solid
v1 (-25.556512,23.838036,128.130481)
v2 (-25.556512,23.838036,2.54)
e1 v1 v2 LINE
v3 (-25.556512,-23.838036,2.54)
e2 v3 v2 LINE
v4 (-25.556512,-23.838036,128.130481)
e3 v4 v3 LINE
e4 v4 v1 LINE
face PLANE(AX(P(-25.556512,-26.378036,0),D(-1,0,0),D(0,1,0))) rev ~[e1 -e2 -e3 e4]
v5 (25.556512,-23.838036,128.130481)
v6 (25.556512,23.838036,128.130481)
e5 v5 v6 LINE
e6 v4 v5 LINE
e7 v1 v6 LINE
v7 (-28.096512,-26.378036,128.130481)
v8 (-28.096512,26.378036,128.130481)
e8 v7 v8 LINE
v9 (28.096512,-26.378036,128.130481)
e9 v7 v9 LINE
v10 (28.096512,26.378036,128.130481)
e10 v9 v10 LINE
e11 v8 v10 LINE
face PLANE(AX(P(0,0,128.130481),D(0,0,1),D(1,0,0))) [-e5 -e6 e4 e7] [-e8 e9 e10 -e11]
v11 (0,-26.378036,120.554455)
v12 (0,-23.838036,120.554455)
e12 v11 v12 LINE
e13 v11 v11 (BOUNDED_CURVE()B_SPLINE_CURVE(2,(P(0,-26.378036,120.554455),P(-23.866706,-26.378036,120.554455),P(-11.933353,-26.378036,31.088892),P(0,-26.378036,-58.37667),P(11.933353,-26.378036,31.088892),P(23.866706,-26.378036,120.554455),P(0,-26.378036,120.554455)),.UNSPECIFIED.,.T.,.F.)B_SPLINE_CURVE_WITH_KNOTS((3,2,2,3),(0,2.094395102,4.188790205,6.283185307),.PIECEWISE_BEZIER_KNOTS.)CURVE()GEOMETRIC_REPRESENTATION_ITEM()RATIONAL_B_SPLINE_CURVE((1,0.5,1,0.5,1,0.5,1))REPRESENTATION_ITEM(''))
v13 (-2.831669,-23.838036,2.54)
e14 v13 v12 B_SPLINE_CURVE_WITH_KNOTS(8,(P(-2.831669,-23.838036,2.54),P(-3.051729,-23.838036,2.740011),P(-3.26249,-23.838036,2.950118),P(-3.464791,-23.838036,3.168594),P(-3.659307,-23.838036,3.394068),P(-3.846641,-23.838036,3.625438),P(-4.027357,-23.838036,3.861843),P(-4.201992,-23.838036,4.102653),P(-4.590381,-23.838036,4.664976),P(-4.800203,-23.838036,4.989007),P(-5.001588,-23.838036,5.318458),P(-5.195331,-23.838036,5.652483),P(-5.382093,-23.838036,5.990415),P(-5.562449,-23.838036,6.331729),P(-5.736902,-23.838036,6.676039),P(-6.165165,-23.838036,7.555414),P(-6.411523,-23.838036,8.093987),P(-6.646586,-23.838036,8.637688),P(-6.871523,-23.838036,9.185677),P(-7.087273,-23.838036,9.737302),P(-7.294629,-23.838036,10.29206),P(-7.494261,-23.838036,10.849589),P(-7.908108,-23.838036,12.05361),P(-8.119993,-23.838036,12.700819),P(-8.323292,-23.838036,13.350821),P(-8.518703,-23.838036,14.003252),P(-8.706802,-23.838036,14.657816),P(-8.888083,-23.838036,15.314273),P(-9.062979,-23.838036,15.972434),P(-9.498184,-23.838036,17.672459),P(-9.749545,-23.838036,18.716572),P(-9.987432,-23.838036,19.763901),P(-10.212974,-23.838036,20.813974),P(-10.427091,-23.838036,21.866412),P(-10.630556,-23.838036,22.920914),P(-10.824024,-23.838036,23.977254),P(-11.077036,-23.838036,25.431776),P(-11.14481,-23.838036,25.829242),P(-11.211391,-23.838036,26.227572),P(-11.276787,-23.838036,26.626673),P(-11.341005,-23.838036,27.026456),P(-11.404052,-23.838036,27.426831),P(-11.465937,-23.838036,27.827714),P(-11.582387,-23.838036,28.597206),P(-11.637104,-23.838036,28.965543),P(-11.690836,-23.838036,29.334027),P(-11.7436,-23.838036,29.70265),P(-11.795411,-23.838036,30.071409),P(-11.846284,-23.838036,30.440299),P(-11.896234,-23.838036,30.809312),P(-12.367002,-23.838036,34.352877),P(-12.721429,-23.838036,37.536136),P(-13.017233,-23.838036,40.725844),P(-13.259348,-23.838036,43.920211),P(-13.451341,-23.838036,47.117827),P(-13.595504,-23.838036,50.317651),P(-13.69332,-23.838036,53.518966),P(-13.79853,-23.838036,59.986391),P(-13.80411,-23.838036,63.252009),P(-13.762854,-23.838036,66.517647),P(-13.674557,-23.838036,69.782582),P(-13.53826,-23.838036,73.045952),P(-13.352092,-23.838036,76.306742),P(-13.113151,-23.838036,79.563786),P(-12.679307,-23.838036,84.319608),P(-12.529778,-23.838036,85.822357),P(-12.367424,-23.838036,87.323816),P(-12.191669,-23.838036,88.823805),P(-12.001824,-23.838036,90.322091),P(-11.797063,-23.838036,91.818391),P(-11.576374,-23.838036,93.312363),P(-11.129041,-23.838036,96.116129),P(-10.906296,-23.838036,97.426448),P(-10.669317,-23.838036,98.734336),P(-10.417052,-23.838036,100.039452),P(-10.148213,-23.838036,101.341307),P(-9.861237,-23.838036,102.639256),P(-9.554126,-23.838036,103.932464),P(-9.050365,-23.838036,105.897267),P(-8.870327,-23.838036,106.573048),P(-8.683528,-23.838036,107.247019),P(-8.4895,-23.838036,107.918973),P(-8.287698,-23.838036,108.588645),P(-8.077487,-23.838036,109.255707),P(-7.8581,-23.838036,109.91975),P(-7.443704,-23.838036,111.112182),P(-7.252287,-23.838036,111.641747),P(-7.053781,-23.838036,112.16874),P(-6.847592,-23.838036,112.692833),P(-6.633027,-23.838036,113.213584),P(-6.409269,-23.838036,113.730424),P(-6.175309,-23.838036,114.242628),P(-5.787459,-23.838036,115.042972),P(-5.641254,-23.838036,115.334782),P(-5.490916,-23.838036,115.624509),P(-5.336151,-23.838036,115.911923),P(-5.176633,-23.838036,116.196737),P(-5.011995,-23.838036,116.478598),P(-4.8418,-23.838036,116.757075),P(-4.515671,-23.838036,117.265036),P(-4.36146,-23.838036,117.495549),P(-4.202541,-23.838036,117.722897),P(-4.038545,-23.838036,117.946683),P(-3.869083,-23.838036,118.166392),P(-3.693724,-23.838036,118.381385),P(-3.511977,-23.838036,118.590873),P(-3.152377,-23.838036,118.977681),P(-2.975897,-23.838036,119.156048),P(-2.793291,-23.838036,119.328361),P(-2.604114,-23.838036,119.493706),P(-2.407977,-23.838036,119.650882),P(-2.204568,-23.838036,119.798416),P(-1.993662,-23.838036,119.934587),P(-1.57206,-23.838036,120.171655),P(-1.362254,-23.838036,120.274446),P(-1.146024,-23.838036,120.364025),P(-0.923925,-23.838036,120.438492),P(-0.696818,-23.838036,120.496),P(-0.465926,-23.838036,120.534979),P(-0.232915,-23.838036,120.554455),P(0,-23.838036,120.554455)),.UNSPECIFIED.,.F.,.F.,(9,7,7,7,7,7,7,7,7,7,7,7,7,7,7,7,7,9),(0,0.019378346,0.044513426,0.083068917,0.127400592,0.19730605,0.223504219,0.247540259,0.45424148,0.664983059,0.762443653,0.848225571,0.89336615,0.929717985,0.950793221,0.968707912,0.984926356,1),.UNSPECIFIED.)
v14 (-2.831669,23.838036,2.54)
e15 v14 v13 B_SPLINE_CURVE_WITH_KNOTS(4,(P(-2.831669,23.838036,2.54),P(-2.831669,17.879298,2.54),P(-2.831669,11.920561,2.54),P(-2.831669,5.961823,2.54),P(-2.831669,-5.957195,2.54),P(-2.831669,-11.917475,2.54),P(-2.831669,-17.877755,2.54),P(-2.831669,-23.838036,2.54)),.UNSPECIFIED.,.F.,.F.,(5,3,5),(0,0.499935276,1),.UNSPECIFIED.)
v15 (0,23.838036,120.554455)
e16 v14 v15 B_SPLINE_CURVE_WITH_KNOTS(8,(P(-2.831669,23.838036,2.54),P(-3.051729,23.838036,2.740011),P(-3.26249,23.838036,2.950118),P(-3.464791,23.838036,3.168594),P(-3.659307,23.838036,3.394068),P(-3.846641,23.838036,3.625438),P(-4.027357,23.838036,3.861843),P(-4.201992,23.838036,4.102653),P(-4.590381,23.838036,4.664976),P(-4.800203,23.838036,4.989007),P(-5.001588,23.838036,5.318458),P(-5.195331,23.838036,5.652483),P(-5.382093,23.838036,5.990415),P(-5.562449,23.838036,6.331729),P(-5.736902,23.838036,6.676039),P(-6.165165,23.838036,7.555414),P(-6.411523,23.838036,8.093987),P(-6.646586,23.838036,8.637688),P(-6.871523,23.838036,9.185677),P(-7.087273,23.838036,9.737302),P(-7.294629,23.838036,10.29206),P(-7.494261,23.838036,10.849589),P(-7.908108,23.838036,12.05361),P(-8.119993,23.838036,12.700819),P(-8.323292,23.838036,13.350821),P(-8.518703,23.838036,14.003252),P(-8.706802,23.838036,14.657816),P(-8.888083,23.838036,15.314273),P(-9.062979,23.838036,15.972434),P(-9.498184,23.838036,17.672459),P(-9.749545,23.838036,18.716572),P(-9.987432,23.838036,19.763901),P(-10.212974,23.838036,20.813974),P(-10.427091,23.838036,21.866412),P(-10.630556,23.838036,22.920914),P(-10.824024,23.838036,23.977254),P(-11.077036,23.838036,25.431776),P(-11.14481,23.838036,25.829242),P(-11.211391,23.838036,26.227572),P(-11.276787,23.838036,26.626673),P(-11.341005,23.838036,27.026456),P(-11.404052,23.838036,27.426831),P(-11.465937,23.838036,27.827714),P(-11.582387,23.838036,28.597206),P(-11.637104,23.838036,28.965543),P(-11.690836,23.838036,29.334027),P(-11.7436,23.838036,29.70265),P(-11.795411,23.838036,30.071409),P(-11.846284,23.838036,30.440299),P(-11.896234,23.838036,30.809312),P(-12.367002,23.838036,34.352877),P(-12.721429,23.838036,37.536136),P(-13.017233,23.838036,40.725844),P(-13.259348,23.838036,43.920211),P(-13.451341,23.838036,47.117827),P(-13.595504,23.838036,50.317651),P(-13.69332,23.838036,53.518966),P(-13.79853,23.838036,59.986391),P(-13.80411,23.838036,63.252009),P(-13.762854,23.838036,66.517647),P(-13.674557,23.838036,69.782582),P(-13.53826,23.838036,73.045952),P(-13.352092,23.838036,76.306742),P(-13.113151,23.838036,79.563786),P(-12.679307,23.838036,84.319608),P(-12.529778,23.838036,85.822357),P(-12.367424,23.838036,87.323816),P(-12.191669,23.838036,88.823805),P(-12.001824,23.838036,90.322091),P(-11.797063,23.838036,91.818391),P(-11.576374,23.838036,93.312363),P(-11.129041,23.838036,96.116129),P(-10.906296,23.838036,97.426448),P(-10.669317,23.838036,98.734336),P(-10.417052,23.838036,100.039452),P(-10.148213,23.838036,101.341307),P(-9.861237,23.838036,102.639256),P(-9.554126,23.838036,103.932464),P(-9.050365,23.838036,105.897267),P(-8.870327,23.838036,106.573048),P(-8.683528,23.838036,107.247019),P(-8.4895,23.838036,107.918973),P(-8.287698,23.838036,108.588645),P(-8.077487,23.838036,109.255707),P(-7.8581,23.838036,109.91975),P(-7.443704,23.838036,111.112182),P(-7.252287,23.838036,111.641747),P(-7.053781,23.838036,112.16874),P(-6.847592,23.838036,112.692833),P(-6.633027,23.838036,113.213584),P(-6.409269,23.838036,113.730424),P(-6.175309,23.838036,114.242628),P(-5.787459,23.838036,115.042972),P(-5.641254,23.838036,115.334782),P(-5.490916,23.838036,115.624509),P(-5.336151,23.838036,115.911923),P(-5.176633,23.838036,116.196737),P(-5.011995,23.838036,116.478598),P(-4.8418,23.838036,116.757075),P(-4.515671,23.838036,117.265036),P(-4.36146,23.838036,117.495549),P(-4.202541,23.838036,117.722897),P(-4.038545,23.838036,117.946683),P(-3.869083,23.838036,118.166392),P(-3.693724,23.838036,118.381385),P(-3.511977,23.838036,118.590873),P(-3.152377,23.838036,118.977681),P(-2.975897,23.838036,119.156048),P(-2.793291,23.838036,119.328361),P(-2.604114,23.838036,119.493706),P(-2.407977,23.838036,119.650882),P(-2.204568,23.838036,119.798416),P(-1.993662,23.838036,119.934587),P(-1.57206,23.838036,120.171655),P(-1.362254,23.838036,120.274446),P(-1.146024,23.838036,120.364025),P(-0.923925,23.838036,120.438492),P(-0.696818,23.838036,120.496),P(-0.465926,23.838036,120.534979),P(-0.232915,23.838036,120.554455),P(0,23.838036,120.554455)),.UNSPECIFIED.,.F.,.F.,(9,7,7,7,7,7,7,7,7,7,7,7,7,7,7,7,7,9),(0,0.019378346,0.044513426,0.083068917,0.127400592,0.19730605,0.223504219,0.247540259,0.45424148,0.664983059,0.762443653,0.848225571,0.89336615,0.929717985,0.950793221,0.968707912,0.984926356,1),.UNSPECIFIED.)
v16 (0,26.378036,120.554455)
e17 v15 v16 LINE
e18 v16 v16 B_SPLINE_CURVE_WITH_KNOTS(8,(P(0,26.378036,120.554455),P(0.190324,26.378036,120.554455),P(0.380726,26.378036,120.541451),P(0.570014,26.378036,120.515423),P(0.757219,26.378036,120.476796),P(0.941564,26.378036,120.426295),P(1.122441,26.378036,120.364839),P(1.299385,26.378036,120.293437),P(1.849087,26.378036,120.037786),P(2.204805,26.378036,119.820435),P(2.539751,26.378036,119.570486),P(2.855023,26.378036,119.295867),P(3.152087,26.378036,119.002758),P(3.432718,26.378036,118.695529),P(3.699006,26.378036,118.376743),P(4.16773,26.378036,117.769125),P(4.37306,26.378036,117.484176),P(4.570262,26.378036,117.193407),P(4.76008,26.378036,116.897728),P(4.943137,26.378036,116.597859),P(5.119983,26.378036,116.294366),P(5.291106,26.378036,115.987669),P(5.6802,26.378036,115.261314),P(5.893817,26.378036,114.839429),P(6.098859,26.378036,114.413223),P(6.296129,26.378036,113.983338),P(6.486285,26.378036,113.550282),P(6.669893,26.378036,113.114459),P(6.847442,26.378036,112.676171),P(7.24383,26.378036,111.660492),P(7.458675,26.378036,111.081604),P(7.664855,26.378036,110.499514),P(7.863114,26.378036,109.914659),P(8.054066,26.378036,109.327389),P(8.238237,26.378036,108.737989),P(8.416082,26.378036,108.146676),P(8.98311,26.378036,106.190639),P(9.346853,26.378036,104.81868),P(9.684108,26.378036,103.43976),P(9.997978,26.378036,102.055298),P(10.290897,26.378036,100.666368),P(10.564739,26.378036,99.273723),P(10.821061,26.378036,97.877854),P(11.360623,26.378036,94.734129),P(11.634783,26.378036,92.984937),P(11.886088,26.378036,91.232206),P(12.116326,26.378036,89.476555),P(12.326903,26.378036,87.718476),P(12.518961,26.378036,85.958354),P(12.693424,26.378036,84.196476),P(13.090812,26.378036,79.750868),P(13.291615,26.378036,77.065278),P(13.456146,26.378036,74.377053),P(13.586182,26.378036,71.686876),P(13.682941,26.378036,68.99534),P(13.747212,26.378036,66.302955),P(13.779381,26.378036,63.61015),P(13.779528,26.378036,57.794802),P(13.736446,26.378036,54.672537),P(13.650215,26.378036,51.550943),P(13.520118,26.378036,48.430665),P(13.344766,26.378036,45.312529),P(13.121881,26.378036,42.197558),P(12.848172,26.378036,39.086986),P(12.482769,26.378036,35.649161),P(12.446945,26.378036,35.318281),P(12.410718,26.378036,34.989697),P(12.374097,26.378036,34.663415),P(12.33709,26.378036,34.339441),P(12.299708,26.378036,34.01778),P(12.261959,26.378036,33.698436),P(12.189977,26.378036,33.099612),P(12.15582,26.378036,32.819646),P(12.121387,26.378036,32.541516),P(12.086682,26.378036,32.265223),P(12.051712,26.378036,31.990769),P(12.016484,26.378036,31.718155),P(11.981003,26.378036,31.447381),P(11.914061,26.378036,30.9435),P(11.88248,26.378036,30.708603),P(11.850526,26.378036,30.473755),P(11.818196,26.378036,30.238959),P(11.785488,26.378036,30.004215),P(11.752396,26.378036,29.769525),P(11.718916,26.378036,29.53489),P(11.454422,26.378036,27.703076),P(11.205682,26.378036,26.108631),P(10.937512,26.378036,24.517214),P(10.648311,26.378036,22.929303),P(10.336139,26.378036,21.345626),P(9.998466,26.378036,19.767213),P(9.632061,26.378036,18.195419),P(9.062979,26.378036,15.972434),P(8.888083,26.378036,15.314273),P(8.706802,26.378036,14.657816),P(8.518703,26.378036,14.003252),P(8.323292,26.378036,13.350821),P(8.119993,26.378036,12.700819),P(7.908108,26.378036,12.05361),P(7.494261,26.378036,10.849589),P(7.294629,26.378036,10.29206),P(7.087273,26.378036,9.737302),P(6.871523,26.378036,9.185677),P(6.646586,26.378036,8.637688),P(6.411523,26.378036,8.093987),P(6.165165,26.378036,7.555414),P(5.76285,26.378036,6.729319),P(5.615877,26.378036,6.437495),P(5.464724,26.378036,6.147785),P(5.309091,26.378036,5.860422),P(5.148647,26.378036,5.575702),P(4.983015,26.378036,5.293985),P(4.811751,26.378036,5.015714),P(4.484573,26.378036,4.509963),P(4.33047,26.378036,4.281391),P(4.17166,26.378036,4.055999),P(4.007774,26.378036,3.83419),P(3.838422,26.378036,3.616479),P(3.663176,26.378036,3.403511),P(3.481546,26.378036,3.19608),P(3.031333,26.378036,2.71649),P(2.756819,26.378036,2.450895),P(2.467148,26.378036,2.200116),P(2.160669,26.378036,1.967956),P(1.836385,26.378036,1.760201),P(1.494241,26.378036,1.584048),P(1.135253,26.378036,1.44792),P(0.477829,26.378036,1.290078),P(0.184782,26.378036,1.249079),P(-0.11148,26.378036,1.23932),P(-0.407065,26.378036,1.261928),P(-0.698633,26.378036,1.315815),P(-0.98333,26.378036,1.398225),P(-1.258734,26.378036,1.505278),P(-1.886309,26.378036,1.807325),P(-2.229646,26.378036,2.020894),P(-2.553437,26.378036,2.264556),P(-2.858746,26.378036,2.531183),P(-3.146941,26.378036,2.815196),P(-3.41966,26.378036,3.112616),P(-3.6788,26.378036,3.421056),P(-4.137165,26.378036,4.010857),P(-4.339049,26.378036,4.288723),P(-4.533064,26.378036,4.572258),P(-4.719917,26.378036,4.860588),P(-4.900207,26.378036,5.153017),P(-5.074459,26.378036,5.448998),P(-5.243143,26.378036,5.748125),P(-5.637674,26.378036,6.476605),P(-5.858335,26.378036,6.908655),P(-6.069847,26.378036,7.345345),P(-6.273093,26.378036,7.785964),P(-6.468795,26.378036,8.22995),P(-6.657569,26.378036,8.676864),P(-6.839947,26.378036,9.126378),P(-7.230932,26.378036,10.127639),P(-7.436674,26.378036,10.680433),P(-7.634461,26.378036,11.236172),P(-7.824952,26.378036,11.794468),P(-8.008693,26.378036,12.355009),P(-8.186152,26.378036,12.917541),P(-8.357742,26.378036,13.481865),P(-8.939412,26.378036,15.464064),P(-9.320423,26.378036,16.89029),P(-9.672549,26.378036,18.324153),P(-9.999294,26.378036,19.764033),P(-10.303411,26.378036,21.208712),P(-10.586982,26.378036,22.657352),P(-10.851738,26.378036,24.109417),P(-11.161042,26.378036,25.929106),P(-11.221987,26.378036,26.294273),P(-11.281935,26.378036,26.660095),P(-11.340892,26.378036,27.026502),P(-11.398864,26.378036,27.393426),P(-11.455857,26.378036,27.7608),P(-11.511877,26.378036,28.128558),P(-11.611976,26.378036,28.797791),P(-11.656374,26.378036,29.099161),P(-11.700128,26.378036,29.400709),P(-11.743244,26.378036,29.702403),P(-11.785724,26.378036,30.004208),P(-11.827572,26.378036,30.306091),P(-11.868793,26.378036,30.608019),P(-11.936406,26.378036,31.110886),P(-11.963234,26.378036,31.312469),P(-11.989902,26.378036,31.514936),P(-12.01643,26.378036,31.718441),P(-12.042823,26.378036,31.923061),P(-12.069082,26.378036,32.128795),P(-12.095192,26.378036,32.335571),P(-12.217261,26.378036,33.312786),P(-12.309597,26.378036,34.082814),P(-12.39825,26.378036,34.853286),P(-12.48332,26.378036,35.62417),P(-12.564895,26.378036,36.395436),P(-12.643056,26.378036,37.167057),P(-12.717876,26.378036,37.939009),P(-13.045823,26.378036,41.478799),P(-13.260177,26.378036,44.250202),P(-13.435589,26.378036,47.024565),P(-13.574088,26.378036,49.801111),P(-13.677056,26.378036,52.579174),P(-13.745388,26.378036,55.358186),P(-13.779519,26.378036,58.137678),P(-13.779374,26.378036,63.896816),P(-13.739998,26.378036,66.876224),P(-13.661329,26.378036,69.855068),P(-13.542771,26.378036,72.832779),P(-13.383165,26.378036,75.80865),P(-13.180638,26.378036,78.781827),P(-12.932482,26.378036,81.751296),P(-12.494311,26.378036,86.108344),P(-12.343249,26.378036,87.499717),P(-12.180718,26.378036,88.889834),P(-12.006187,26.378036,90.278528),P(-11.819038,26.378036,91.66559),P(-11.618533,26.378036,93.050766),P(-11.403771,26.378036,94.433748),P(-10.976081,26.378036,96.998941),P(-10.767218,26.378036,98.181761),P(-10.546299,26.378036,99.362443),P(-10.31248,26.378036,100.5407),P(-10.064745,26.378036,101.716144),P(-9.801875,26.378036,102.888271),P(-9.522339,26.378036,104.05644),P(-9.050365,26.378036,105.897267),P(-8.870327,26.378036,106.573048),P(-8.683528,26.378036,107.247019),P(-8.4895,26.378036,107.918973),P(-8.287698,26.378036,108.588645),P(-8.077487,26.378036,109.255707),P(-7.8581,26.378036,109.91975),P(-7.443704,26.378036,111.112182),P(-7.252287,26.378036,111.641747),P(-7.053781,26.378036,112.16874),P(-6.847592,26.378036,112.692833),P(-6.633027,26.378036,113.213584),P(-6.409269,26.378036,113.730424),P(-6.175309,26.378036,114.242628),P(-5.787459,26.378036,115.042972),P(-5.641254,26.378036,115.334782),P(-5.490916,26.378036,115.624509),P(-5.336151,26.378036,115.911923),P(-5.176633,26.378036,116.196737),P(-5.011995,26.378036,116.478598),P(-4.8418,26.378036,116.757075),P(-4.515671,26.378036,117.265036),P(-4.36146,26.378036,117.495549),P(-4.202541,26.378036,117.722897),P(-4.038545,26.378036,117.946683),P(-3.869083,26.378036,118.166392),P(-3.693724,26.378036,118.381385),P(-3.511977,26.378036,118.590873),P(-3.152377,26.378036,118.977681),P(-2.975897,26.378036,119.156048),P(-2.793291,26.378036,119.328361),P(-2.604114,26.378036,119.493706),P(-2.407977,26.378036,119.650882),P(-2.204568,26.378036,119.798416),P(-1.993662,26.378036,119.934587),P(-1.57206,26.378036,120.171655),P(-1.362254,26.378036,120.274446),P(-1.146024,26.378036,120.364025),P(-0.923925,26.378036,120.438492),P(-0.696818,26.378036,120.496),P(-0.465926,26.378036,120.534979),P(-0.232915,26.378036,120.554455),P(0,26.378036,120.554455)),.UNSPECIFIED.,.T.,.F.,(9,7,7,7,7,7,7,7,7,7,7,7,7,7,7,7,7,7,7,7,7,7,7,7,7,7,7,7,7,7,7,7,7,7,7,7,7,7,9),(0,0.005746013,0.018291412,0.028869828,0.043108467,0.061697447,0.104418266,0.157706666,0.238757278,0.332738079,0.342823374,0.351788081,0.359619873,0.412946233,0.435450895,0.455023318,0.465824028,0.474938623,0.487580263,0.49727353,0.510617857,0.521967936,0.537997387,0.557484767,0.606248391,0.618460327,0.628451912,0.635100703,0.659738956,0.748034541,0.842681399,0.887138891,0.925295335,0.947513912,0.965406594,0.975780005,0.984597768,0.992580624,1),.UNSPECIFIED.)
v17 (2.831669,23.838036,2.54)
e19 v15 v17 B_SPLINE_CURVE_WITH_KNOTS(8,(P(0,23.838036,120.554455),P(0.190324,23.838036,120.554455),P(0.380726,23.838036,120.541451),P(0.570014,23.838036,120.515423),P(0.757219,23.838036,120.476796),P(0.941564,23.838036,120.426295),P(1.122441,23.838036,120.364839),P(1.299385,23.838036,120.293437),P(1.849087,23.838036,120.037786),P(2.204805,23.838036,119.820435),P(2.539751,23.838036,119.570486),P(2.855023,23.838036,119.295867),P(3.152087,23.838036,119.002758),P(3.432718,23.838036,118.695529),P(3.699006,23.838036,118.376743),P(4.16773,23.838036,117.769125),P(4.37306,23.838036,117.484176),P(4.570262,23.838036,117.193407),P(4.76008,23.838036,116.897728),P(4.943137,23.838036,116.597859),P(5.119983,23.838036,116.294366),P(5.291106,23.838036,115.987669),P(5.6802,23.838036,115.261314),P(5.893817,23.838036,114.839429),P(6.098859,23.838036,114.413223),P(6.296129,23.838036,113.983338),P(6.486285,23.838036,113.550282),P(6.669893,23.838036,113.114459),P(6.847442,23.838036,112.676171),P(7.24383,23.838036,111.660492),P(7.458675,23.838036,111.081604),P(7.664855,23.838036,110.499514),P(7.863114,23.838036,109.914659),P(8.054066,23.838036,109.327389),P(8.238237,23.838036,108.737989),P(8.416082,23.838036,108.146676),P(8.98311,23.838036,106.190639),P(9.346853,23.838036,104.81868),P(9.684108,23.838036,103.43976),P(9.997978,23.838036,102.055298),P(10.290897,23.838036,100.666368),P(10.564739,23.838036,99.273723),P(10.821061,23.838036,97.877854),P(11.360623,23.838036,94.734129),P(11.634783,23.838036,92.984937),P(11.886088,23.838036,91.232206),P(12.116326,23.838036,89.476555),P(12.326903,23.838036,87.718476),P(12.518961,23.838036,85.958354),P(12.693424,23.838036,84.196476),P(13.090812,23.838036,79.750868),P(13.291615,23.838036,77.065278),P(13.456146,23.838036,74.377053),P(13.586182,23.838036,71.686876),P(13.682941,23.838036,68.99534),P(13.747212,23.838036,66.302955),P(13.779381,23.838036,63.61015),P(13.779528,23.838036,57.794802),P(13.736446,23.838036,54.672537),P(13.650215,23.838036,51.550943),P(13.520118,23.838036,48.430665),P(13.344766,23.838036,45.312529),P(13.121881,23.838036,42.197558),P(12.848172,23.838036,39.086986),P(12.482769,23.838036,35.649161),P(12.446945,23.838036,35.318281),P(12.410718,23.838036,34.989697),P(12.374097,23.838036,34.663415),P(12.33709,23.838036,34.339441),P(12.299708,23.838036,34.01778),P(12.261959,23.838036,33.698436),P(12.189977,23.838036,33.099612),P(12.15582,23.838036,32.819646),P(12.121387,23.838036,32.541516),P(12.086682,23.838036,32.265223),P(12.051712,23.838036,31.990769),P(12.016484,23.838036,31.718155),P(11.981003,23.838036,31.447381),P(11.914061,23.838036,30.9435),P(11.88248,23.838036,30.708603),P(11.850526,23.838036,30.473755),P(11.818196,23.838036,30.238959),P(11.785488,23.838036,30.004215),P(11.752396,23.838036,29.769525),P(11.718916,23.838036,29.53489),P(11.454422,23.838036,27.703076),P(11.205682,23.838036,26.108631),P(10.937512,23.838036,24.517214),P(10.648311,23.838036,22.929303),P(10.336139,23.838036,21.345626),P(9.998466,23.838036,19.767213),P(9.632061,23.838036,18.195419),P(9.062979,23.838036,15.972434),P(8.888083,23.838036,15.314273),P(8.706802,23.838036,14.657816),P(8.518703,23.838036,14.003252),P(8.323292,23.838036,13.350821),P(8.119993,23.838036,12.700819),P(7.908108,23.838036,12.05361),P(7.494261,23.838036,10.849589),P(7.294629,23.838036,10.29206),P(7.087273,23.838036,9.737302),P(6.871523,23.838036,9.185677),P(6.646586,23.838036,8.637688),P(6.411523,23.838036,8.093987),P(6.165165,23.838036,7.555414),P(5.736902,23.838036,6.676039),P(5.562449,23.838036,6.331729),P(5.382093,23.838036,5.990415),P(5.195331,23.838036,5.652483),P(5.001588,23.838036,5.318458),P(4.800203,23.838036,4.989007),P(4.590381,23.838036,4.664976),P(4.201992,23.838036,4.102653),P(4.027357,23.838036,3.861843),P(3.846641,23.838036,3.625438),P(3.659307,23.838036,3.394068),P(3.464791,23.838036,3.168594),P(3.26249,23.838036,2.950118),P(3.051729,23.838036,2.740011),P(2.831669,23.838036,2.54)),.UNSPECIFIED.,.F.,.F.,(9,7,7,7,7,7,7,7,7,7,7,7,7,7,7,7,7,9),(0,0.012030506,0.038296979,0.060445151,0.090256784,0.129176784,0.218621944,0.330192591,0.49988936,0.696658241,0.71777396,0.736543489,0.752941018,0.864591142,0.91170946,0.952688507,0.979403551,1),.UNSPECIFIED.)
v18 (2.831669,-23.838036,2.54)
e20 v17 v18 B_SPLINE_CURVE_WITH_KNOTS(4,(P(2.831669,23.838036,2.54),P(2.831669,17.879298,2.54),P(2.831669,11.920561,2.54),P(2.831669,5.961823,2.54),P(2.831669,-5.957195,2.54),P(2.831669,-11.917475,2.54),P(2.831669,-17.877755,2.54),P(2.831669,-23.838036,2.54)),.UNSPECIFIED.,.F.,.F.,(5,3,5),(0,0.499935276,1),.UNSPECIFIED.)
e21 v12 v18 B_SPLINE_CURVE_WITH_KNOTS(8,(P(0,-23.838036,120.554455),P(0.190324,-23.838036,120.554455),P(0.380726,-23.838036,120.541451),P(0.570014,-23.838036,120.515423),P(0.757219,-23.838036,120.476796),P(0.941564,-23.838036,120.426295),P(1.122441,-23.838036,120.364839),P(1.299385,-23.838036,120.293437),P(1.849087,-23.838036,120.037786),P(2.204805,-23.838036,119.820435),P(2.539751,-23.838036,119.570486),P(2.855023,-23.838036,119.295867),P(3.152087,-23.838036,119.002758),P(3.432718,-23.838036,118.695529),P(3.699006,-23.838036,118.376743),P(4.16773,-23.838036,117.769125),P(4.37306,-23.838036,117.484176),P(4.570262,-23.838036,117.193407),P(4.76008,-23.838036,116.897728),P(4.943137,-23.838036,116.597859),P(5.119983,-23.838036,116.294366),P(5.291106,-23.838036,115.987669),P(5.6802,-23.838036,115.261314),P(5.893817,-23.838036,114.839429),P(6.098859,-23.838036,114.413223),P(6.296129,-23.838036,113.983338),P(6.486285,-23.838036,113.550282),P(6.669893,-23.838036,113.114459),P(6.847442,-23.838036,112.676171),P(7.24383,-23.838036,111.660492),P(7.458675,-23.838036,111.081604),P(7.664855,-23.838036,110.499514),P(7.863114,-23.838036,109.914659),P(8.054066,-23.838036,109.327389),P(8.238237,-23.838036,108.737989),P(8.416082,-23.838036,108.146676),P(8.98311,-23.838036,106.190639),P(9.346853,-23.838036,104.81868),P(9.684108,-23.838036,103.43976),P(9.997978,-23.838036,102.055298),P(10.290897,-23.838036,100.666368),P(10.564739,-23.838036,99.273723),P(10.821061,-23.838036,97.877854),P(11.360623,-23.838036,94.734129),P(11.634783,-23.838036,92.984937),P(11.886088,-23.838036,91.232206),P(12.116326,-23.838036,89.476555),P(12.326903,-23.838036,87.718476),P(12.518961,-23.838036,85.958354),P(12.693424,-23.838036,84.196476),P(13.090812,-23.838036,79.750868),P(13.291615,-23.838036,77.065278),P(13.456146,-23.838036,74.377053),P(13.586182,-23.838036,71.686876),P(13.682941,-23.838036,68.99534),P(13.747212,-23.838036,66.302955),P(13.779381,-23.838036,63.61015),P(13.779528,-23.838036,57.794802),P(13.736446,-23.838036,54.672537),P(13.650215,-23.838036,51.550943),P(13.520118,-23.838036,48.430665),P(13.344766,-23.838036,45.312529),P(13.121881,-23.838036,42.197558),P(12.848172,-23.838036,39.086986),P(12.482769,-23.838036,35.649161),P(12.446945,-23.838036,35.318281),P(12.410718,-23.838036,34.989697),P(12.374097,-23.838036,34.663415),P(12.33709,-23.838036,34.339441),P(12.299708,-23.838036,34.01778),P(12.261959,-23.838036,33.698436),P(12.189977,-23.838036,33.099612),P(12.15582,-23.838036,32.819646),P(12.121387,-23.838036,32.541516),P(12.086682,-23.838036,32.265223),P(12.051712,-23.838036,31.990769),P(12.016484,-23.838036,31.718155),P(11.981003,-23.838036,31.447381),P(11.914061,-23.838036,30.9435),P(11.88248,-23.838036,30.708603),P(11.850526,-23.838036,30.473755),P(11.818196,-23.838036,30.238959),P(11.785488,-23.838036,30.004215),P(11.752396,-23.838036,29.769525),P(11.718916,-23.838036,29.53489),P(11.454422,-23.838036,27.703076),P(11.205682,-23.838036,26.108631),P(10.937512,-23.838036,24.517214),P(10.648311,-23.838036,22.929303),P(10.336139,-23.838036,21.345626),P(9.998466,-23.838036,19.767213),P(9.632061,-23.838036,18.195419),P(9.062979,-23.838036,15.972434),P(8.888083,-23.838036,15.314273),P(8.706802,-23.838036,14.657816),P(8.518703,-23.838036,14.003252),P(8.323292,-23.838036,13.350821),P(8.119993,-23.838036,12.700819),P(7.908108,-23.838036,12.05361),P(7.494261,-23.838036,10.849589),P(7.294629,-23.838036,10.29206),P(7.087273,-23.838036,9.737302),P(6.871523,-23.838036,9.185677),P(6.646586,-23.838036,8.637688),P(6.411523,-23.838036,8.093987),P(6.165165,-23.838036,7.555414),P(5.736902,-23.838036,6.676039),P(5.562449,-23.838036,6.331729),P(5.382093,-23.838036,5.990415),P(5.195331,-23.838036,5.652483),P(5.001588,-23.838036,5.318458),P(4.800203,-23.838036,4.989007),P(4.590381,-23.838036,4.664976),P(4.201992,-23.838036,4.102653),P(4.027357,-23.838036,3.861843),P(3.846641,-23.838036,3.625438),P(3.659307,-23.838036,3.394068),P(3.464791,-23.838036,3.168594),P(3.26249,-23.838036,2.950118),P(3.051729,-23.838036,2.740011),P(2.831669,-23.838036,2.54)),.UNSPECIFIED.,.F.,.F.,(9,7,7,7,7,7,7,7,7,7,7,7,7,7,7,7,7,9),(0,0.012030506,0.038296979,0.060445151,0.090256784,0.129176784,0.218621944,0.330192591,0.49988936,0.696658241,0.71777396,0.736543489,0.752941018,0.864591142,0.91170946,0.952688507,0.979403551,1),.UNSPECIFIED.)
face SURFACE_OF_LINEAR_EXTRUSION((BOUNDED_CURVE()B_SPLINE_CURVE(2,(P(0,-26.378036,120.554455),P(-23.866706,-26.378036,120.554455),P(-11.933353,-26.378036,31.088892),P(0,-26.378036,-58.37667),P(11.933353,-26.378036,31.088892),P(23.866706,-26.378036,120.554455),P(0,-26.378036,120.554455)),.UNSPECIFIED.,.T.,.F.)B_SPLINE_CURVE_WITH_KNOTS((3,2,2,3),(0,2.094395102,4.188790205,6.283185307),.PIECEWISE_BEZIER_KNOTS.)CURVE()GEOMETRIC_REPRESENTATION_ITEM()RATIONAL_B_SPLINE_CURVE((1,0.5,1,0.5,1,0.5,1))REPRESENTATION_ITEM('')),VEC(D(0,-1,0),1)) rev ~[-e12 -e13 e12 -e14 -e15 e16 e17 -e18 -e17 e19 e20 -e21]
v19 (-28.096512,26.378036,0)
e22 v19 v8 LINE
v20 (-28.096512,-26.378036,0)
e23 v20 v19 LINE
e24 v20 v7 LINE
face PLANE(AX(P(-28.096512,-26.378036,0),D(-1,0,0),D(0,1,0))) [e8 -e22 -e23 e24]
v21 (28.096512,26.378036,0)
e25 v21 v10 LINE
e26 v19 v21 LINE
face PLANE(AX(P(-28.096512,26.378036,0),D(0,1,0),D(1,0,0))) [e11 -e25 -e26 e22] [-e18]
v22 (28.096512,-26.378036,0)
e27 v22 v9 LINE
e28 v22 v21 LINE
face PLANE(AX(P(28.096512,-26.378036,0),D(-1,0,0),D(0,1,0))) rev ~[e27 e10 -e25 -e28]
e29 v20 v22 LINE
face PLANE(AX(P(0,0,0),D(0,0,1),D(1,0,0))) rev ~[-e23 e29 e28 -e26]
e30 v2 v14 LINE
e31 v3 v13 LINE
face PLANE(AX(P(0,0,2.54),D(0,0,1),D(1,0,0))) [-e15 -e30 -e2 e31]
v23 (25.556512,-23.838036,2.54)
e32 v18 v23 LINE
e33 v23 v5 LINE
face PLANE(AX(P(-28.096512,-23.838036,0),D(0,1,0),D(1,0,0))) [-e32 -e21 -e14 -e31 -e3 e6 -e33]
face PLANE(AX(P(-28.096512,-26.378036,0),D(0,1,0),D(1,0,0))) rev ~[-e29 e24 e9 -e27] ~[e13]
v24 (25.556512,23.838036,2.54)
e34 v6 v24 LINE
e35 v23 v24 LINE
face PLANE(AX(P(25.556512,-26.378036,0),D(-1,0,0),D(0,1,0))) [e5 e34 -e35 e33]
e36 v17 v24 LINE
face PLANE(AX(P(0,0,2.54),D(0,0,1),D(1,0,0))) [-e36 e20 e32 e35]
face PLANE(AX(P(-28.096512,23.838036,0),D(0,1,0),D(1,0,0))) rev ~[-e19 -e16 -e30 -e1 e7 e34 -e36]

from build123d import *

# Parameters (mm, degrees)
F0_W     = 56.1930239201
F0_H     = 52.7560710907
F1_DEPTH = 128.1304806471
F2_T     = -2.54
F4_DEPTH = 87.9370719194
F5_DEPTH = 25.4
F6_DEPTH = 25.4


with BuildPart() as f1:
    # F0 (on Top) → F1 (new body)
    with BuildSketch(Plane.XY):
        Rectangle(F0_W, F0_H)
    extrude(amount=F1_DEPTH)

    # F2
    f2_openings = [f1.faces().sort_by_distance(p)[0] for p in [
        (0, 0, 128.130481),
    ]]
    offset(amount=F2_T, openings=f2_openings)

    # F3 (on face) → F4 (cut)
    with BuildSketch(Plane.XZ.offset(26.3780355453)):
        with BuildLine():
            add(Edge.make_bspline(
                [(0, 120.5544546247), (-23.8667058273, 120.5544546247), (-11.9333529136, 31.0888923705), (0, -58.3766698837), (11.9333529136, 31.0888923705), (23.8667058273, 120.5544546247), (0, 120.5544546247)],
                knots=[0, 0, 0, 2.0943951024, 2.0943951024, 4.1887902048, 4.1887902048, 6.2831853072, 6.2831853072, 6.2831853072], degree=2, weights=[1, 0.5, 1, 0.5, 1, 0.5, 1]))
        make_face()
    extrude(amount=-F4_DEPTH, mode=Mode.SUBTRACT)


with BuildPart() as f5:
    # F3 (on face) → F5 (new body)
    with BuildSketch(Plane.XZ.offset(26.3780355453)):
        with BuildLine():
            add(Edge.make_bspline(
                [(0, 120.5544546247), (-23.8667058273, 120.5544546247), (-11.9333529136, 31.0888923705), (0, -58.3766698837), (11.9333529136, 31.0888923705), (23.8667058273, 120.5544546247), (0, 120.5544546247)],
                knots=[0, 0, 0, 2.0943951024, 2.0943951024, 4.1887902048, 4.1887902048, 6.2831853072, 6.2831853072, 6.2831853072], degree=2, weights=[1, 0.5, 1, 0.5, 1, 0.5, 1]))
        make_face()
    extrude(amount=F5_DEPTH)

    # F6 (cut): a face of the model
    f6_faces = [f5.faces().sort_by_distance(p)[0] for p in [
        (0, -51.7780355453, 60.7660799004),
    ]]
    extrude(f6_faces, amount=-F6_DEPTH, mode=Mode.SUBTRACT)


solid = f1.part
